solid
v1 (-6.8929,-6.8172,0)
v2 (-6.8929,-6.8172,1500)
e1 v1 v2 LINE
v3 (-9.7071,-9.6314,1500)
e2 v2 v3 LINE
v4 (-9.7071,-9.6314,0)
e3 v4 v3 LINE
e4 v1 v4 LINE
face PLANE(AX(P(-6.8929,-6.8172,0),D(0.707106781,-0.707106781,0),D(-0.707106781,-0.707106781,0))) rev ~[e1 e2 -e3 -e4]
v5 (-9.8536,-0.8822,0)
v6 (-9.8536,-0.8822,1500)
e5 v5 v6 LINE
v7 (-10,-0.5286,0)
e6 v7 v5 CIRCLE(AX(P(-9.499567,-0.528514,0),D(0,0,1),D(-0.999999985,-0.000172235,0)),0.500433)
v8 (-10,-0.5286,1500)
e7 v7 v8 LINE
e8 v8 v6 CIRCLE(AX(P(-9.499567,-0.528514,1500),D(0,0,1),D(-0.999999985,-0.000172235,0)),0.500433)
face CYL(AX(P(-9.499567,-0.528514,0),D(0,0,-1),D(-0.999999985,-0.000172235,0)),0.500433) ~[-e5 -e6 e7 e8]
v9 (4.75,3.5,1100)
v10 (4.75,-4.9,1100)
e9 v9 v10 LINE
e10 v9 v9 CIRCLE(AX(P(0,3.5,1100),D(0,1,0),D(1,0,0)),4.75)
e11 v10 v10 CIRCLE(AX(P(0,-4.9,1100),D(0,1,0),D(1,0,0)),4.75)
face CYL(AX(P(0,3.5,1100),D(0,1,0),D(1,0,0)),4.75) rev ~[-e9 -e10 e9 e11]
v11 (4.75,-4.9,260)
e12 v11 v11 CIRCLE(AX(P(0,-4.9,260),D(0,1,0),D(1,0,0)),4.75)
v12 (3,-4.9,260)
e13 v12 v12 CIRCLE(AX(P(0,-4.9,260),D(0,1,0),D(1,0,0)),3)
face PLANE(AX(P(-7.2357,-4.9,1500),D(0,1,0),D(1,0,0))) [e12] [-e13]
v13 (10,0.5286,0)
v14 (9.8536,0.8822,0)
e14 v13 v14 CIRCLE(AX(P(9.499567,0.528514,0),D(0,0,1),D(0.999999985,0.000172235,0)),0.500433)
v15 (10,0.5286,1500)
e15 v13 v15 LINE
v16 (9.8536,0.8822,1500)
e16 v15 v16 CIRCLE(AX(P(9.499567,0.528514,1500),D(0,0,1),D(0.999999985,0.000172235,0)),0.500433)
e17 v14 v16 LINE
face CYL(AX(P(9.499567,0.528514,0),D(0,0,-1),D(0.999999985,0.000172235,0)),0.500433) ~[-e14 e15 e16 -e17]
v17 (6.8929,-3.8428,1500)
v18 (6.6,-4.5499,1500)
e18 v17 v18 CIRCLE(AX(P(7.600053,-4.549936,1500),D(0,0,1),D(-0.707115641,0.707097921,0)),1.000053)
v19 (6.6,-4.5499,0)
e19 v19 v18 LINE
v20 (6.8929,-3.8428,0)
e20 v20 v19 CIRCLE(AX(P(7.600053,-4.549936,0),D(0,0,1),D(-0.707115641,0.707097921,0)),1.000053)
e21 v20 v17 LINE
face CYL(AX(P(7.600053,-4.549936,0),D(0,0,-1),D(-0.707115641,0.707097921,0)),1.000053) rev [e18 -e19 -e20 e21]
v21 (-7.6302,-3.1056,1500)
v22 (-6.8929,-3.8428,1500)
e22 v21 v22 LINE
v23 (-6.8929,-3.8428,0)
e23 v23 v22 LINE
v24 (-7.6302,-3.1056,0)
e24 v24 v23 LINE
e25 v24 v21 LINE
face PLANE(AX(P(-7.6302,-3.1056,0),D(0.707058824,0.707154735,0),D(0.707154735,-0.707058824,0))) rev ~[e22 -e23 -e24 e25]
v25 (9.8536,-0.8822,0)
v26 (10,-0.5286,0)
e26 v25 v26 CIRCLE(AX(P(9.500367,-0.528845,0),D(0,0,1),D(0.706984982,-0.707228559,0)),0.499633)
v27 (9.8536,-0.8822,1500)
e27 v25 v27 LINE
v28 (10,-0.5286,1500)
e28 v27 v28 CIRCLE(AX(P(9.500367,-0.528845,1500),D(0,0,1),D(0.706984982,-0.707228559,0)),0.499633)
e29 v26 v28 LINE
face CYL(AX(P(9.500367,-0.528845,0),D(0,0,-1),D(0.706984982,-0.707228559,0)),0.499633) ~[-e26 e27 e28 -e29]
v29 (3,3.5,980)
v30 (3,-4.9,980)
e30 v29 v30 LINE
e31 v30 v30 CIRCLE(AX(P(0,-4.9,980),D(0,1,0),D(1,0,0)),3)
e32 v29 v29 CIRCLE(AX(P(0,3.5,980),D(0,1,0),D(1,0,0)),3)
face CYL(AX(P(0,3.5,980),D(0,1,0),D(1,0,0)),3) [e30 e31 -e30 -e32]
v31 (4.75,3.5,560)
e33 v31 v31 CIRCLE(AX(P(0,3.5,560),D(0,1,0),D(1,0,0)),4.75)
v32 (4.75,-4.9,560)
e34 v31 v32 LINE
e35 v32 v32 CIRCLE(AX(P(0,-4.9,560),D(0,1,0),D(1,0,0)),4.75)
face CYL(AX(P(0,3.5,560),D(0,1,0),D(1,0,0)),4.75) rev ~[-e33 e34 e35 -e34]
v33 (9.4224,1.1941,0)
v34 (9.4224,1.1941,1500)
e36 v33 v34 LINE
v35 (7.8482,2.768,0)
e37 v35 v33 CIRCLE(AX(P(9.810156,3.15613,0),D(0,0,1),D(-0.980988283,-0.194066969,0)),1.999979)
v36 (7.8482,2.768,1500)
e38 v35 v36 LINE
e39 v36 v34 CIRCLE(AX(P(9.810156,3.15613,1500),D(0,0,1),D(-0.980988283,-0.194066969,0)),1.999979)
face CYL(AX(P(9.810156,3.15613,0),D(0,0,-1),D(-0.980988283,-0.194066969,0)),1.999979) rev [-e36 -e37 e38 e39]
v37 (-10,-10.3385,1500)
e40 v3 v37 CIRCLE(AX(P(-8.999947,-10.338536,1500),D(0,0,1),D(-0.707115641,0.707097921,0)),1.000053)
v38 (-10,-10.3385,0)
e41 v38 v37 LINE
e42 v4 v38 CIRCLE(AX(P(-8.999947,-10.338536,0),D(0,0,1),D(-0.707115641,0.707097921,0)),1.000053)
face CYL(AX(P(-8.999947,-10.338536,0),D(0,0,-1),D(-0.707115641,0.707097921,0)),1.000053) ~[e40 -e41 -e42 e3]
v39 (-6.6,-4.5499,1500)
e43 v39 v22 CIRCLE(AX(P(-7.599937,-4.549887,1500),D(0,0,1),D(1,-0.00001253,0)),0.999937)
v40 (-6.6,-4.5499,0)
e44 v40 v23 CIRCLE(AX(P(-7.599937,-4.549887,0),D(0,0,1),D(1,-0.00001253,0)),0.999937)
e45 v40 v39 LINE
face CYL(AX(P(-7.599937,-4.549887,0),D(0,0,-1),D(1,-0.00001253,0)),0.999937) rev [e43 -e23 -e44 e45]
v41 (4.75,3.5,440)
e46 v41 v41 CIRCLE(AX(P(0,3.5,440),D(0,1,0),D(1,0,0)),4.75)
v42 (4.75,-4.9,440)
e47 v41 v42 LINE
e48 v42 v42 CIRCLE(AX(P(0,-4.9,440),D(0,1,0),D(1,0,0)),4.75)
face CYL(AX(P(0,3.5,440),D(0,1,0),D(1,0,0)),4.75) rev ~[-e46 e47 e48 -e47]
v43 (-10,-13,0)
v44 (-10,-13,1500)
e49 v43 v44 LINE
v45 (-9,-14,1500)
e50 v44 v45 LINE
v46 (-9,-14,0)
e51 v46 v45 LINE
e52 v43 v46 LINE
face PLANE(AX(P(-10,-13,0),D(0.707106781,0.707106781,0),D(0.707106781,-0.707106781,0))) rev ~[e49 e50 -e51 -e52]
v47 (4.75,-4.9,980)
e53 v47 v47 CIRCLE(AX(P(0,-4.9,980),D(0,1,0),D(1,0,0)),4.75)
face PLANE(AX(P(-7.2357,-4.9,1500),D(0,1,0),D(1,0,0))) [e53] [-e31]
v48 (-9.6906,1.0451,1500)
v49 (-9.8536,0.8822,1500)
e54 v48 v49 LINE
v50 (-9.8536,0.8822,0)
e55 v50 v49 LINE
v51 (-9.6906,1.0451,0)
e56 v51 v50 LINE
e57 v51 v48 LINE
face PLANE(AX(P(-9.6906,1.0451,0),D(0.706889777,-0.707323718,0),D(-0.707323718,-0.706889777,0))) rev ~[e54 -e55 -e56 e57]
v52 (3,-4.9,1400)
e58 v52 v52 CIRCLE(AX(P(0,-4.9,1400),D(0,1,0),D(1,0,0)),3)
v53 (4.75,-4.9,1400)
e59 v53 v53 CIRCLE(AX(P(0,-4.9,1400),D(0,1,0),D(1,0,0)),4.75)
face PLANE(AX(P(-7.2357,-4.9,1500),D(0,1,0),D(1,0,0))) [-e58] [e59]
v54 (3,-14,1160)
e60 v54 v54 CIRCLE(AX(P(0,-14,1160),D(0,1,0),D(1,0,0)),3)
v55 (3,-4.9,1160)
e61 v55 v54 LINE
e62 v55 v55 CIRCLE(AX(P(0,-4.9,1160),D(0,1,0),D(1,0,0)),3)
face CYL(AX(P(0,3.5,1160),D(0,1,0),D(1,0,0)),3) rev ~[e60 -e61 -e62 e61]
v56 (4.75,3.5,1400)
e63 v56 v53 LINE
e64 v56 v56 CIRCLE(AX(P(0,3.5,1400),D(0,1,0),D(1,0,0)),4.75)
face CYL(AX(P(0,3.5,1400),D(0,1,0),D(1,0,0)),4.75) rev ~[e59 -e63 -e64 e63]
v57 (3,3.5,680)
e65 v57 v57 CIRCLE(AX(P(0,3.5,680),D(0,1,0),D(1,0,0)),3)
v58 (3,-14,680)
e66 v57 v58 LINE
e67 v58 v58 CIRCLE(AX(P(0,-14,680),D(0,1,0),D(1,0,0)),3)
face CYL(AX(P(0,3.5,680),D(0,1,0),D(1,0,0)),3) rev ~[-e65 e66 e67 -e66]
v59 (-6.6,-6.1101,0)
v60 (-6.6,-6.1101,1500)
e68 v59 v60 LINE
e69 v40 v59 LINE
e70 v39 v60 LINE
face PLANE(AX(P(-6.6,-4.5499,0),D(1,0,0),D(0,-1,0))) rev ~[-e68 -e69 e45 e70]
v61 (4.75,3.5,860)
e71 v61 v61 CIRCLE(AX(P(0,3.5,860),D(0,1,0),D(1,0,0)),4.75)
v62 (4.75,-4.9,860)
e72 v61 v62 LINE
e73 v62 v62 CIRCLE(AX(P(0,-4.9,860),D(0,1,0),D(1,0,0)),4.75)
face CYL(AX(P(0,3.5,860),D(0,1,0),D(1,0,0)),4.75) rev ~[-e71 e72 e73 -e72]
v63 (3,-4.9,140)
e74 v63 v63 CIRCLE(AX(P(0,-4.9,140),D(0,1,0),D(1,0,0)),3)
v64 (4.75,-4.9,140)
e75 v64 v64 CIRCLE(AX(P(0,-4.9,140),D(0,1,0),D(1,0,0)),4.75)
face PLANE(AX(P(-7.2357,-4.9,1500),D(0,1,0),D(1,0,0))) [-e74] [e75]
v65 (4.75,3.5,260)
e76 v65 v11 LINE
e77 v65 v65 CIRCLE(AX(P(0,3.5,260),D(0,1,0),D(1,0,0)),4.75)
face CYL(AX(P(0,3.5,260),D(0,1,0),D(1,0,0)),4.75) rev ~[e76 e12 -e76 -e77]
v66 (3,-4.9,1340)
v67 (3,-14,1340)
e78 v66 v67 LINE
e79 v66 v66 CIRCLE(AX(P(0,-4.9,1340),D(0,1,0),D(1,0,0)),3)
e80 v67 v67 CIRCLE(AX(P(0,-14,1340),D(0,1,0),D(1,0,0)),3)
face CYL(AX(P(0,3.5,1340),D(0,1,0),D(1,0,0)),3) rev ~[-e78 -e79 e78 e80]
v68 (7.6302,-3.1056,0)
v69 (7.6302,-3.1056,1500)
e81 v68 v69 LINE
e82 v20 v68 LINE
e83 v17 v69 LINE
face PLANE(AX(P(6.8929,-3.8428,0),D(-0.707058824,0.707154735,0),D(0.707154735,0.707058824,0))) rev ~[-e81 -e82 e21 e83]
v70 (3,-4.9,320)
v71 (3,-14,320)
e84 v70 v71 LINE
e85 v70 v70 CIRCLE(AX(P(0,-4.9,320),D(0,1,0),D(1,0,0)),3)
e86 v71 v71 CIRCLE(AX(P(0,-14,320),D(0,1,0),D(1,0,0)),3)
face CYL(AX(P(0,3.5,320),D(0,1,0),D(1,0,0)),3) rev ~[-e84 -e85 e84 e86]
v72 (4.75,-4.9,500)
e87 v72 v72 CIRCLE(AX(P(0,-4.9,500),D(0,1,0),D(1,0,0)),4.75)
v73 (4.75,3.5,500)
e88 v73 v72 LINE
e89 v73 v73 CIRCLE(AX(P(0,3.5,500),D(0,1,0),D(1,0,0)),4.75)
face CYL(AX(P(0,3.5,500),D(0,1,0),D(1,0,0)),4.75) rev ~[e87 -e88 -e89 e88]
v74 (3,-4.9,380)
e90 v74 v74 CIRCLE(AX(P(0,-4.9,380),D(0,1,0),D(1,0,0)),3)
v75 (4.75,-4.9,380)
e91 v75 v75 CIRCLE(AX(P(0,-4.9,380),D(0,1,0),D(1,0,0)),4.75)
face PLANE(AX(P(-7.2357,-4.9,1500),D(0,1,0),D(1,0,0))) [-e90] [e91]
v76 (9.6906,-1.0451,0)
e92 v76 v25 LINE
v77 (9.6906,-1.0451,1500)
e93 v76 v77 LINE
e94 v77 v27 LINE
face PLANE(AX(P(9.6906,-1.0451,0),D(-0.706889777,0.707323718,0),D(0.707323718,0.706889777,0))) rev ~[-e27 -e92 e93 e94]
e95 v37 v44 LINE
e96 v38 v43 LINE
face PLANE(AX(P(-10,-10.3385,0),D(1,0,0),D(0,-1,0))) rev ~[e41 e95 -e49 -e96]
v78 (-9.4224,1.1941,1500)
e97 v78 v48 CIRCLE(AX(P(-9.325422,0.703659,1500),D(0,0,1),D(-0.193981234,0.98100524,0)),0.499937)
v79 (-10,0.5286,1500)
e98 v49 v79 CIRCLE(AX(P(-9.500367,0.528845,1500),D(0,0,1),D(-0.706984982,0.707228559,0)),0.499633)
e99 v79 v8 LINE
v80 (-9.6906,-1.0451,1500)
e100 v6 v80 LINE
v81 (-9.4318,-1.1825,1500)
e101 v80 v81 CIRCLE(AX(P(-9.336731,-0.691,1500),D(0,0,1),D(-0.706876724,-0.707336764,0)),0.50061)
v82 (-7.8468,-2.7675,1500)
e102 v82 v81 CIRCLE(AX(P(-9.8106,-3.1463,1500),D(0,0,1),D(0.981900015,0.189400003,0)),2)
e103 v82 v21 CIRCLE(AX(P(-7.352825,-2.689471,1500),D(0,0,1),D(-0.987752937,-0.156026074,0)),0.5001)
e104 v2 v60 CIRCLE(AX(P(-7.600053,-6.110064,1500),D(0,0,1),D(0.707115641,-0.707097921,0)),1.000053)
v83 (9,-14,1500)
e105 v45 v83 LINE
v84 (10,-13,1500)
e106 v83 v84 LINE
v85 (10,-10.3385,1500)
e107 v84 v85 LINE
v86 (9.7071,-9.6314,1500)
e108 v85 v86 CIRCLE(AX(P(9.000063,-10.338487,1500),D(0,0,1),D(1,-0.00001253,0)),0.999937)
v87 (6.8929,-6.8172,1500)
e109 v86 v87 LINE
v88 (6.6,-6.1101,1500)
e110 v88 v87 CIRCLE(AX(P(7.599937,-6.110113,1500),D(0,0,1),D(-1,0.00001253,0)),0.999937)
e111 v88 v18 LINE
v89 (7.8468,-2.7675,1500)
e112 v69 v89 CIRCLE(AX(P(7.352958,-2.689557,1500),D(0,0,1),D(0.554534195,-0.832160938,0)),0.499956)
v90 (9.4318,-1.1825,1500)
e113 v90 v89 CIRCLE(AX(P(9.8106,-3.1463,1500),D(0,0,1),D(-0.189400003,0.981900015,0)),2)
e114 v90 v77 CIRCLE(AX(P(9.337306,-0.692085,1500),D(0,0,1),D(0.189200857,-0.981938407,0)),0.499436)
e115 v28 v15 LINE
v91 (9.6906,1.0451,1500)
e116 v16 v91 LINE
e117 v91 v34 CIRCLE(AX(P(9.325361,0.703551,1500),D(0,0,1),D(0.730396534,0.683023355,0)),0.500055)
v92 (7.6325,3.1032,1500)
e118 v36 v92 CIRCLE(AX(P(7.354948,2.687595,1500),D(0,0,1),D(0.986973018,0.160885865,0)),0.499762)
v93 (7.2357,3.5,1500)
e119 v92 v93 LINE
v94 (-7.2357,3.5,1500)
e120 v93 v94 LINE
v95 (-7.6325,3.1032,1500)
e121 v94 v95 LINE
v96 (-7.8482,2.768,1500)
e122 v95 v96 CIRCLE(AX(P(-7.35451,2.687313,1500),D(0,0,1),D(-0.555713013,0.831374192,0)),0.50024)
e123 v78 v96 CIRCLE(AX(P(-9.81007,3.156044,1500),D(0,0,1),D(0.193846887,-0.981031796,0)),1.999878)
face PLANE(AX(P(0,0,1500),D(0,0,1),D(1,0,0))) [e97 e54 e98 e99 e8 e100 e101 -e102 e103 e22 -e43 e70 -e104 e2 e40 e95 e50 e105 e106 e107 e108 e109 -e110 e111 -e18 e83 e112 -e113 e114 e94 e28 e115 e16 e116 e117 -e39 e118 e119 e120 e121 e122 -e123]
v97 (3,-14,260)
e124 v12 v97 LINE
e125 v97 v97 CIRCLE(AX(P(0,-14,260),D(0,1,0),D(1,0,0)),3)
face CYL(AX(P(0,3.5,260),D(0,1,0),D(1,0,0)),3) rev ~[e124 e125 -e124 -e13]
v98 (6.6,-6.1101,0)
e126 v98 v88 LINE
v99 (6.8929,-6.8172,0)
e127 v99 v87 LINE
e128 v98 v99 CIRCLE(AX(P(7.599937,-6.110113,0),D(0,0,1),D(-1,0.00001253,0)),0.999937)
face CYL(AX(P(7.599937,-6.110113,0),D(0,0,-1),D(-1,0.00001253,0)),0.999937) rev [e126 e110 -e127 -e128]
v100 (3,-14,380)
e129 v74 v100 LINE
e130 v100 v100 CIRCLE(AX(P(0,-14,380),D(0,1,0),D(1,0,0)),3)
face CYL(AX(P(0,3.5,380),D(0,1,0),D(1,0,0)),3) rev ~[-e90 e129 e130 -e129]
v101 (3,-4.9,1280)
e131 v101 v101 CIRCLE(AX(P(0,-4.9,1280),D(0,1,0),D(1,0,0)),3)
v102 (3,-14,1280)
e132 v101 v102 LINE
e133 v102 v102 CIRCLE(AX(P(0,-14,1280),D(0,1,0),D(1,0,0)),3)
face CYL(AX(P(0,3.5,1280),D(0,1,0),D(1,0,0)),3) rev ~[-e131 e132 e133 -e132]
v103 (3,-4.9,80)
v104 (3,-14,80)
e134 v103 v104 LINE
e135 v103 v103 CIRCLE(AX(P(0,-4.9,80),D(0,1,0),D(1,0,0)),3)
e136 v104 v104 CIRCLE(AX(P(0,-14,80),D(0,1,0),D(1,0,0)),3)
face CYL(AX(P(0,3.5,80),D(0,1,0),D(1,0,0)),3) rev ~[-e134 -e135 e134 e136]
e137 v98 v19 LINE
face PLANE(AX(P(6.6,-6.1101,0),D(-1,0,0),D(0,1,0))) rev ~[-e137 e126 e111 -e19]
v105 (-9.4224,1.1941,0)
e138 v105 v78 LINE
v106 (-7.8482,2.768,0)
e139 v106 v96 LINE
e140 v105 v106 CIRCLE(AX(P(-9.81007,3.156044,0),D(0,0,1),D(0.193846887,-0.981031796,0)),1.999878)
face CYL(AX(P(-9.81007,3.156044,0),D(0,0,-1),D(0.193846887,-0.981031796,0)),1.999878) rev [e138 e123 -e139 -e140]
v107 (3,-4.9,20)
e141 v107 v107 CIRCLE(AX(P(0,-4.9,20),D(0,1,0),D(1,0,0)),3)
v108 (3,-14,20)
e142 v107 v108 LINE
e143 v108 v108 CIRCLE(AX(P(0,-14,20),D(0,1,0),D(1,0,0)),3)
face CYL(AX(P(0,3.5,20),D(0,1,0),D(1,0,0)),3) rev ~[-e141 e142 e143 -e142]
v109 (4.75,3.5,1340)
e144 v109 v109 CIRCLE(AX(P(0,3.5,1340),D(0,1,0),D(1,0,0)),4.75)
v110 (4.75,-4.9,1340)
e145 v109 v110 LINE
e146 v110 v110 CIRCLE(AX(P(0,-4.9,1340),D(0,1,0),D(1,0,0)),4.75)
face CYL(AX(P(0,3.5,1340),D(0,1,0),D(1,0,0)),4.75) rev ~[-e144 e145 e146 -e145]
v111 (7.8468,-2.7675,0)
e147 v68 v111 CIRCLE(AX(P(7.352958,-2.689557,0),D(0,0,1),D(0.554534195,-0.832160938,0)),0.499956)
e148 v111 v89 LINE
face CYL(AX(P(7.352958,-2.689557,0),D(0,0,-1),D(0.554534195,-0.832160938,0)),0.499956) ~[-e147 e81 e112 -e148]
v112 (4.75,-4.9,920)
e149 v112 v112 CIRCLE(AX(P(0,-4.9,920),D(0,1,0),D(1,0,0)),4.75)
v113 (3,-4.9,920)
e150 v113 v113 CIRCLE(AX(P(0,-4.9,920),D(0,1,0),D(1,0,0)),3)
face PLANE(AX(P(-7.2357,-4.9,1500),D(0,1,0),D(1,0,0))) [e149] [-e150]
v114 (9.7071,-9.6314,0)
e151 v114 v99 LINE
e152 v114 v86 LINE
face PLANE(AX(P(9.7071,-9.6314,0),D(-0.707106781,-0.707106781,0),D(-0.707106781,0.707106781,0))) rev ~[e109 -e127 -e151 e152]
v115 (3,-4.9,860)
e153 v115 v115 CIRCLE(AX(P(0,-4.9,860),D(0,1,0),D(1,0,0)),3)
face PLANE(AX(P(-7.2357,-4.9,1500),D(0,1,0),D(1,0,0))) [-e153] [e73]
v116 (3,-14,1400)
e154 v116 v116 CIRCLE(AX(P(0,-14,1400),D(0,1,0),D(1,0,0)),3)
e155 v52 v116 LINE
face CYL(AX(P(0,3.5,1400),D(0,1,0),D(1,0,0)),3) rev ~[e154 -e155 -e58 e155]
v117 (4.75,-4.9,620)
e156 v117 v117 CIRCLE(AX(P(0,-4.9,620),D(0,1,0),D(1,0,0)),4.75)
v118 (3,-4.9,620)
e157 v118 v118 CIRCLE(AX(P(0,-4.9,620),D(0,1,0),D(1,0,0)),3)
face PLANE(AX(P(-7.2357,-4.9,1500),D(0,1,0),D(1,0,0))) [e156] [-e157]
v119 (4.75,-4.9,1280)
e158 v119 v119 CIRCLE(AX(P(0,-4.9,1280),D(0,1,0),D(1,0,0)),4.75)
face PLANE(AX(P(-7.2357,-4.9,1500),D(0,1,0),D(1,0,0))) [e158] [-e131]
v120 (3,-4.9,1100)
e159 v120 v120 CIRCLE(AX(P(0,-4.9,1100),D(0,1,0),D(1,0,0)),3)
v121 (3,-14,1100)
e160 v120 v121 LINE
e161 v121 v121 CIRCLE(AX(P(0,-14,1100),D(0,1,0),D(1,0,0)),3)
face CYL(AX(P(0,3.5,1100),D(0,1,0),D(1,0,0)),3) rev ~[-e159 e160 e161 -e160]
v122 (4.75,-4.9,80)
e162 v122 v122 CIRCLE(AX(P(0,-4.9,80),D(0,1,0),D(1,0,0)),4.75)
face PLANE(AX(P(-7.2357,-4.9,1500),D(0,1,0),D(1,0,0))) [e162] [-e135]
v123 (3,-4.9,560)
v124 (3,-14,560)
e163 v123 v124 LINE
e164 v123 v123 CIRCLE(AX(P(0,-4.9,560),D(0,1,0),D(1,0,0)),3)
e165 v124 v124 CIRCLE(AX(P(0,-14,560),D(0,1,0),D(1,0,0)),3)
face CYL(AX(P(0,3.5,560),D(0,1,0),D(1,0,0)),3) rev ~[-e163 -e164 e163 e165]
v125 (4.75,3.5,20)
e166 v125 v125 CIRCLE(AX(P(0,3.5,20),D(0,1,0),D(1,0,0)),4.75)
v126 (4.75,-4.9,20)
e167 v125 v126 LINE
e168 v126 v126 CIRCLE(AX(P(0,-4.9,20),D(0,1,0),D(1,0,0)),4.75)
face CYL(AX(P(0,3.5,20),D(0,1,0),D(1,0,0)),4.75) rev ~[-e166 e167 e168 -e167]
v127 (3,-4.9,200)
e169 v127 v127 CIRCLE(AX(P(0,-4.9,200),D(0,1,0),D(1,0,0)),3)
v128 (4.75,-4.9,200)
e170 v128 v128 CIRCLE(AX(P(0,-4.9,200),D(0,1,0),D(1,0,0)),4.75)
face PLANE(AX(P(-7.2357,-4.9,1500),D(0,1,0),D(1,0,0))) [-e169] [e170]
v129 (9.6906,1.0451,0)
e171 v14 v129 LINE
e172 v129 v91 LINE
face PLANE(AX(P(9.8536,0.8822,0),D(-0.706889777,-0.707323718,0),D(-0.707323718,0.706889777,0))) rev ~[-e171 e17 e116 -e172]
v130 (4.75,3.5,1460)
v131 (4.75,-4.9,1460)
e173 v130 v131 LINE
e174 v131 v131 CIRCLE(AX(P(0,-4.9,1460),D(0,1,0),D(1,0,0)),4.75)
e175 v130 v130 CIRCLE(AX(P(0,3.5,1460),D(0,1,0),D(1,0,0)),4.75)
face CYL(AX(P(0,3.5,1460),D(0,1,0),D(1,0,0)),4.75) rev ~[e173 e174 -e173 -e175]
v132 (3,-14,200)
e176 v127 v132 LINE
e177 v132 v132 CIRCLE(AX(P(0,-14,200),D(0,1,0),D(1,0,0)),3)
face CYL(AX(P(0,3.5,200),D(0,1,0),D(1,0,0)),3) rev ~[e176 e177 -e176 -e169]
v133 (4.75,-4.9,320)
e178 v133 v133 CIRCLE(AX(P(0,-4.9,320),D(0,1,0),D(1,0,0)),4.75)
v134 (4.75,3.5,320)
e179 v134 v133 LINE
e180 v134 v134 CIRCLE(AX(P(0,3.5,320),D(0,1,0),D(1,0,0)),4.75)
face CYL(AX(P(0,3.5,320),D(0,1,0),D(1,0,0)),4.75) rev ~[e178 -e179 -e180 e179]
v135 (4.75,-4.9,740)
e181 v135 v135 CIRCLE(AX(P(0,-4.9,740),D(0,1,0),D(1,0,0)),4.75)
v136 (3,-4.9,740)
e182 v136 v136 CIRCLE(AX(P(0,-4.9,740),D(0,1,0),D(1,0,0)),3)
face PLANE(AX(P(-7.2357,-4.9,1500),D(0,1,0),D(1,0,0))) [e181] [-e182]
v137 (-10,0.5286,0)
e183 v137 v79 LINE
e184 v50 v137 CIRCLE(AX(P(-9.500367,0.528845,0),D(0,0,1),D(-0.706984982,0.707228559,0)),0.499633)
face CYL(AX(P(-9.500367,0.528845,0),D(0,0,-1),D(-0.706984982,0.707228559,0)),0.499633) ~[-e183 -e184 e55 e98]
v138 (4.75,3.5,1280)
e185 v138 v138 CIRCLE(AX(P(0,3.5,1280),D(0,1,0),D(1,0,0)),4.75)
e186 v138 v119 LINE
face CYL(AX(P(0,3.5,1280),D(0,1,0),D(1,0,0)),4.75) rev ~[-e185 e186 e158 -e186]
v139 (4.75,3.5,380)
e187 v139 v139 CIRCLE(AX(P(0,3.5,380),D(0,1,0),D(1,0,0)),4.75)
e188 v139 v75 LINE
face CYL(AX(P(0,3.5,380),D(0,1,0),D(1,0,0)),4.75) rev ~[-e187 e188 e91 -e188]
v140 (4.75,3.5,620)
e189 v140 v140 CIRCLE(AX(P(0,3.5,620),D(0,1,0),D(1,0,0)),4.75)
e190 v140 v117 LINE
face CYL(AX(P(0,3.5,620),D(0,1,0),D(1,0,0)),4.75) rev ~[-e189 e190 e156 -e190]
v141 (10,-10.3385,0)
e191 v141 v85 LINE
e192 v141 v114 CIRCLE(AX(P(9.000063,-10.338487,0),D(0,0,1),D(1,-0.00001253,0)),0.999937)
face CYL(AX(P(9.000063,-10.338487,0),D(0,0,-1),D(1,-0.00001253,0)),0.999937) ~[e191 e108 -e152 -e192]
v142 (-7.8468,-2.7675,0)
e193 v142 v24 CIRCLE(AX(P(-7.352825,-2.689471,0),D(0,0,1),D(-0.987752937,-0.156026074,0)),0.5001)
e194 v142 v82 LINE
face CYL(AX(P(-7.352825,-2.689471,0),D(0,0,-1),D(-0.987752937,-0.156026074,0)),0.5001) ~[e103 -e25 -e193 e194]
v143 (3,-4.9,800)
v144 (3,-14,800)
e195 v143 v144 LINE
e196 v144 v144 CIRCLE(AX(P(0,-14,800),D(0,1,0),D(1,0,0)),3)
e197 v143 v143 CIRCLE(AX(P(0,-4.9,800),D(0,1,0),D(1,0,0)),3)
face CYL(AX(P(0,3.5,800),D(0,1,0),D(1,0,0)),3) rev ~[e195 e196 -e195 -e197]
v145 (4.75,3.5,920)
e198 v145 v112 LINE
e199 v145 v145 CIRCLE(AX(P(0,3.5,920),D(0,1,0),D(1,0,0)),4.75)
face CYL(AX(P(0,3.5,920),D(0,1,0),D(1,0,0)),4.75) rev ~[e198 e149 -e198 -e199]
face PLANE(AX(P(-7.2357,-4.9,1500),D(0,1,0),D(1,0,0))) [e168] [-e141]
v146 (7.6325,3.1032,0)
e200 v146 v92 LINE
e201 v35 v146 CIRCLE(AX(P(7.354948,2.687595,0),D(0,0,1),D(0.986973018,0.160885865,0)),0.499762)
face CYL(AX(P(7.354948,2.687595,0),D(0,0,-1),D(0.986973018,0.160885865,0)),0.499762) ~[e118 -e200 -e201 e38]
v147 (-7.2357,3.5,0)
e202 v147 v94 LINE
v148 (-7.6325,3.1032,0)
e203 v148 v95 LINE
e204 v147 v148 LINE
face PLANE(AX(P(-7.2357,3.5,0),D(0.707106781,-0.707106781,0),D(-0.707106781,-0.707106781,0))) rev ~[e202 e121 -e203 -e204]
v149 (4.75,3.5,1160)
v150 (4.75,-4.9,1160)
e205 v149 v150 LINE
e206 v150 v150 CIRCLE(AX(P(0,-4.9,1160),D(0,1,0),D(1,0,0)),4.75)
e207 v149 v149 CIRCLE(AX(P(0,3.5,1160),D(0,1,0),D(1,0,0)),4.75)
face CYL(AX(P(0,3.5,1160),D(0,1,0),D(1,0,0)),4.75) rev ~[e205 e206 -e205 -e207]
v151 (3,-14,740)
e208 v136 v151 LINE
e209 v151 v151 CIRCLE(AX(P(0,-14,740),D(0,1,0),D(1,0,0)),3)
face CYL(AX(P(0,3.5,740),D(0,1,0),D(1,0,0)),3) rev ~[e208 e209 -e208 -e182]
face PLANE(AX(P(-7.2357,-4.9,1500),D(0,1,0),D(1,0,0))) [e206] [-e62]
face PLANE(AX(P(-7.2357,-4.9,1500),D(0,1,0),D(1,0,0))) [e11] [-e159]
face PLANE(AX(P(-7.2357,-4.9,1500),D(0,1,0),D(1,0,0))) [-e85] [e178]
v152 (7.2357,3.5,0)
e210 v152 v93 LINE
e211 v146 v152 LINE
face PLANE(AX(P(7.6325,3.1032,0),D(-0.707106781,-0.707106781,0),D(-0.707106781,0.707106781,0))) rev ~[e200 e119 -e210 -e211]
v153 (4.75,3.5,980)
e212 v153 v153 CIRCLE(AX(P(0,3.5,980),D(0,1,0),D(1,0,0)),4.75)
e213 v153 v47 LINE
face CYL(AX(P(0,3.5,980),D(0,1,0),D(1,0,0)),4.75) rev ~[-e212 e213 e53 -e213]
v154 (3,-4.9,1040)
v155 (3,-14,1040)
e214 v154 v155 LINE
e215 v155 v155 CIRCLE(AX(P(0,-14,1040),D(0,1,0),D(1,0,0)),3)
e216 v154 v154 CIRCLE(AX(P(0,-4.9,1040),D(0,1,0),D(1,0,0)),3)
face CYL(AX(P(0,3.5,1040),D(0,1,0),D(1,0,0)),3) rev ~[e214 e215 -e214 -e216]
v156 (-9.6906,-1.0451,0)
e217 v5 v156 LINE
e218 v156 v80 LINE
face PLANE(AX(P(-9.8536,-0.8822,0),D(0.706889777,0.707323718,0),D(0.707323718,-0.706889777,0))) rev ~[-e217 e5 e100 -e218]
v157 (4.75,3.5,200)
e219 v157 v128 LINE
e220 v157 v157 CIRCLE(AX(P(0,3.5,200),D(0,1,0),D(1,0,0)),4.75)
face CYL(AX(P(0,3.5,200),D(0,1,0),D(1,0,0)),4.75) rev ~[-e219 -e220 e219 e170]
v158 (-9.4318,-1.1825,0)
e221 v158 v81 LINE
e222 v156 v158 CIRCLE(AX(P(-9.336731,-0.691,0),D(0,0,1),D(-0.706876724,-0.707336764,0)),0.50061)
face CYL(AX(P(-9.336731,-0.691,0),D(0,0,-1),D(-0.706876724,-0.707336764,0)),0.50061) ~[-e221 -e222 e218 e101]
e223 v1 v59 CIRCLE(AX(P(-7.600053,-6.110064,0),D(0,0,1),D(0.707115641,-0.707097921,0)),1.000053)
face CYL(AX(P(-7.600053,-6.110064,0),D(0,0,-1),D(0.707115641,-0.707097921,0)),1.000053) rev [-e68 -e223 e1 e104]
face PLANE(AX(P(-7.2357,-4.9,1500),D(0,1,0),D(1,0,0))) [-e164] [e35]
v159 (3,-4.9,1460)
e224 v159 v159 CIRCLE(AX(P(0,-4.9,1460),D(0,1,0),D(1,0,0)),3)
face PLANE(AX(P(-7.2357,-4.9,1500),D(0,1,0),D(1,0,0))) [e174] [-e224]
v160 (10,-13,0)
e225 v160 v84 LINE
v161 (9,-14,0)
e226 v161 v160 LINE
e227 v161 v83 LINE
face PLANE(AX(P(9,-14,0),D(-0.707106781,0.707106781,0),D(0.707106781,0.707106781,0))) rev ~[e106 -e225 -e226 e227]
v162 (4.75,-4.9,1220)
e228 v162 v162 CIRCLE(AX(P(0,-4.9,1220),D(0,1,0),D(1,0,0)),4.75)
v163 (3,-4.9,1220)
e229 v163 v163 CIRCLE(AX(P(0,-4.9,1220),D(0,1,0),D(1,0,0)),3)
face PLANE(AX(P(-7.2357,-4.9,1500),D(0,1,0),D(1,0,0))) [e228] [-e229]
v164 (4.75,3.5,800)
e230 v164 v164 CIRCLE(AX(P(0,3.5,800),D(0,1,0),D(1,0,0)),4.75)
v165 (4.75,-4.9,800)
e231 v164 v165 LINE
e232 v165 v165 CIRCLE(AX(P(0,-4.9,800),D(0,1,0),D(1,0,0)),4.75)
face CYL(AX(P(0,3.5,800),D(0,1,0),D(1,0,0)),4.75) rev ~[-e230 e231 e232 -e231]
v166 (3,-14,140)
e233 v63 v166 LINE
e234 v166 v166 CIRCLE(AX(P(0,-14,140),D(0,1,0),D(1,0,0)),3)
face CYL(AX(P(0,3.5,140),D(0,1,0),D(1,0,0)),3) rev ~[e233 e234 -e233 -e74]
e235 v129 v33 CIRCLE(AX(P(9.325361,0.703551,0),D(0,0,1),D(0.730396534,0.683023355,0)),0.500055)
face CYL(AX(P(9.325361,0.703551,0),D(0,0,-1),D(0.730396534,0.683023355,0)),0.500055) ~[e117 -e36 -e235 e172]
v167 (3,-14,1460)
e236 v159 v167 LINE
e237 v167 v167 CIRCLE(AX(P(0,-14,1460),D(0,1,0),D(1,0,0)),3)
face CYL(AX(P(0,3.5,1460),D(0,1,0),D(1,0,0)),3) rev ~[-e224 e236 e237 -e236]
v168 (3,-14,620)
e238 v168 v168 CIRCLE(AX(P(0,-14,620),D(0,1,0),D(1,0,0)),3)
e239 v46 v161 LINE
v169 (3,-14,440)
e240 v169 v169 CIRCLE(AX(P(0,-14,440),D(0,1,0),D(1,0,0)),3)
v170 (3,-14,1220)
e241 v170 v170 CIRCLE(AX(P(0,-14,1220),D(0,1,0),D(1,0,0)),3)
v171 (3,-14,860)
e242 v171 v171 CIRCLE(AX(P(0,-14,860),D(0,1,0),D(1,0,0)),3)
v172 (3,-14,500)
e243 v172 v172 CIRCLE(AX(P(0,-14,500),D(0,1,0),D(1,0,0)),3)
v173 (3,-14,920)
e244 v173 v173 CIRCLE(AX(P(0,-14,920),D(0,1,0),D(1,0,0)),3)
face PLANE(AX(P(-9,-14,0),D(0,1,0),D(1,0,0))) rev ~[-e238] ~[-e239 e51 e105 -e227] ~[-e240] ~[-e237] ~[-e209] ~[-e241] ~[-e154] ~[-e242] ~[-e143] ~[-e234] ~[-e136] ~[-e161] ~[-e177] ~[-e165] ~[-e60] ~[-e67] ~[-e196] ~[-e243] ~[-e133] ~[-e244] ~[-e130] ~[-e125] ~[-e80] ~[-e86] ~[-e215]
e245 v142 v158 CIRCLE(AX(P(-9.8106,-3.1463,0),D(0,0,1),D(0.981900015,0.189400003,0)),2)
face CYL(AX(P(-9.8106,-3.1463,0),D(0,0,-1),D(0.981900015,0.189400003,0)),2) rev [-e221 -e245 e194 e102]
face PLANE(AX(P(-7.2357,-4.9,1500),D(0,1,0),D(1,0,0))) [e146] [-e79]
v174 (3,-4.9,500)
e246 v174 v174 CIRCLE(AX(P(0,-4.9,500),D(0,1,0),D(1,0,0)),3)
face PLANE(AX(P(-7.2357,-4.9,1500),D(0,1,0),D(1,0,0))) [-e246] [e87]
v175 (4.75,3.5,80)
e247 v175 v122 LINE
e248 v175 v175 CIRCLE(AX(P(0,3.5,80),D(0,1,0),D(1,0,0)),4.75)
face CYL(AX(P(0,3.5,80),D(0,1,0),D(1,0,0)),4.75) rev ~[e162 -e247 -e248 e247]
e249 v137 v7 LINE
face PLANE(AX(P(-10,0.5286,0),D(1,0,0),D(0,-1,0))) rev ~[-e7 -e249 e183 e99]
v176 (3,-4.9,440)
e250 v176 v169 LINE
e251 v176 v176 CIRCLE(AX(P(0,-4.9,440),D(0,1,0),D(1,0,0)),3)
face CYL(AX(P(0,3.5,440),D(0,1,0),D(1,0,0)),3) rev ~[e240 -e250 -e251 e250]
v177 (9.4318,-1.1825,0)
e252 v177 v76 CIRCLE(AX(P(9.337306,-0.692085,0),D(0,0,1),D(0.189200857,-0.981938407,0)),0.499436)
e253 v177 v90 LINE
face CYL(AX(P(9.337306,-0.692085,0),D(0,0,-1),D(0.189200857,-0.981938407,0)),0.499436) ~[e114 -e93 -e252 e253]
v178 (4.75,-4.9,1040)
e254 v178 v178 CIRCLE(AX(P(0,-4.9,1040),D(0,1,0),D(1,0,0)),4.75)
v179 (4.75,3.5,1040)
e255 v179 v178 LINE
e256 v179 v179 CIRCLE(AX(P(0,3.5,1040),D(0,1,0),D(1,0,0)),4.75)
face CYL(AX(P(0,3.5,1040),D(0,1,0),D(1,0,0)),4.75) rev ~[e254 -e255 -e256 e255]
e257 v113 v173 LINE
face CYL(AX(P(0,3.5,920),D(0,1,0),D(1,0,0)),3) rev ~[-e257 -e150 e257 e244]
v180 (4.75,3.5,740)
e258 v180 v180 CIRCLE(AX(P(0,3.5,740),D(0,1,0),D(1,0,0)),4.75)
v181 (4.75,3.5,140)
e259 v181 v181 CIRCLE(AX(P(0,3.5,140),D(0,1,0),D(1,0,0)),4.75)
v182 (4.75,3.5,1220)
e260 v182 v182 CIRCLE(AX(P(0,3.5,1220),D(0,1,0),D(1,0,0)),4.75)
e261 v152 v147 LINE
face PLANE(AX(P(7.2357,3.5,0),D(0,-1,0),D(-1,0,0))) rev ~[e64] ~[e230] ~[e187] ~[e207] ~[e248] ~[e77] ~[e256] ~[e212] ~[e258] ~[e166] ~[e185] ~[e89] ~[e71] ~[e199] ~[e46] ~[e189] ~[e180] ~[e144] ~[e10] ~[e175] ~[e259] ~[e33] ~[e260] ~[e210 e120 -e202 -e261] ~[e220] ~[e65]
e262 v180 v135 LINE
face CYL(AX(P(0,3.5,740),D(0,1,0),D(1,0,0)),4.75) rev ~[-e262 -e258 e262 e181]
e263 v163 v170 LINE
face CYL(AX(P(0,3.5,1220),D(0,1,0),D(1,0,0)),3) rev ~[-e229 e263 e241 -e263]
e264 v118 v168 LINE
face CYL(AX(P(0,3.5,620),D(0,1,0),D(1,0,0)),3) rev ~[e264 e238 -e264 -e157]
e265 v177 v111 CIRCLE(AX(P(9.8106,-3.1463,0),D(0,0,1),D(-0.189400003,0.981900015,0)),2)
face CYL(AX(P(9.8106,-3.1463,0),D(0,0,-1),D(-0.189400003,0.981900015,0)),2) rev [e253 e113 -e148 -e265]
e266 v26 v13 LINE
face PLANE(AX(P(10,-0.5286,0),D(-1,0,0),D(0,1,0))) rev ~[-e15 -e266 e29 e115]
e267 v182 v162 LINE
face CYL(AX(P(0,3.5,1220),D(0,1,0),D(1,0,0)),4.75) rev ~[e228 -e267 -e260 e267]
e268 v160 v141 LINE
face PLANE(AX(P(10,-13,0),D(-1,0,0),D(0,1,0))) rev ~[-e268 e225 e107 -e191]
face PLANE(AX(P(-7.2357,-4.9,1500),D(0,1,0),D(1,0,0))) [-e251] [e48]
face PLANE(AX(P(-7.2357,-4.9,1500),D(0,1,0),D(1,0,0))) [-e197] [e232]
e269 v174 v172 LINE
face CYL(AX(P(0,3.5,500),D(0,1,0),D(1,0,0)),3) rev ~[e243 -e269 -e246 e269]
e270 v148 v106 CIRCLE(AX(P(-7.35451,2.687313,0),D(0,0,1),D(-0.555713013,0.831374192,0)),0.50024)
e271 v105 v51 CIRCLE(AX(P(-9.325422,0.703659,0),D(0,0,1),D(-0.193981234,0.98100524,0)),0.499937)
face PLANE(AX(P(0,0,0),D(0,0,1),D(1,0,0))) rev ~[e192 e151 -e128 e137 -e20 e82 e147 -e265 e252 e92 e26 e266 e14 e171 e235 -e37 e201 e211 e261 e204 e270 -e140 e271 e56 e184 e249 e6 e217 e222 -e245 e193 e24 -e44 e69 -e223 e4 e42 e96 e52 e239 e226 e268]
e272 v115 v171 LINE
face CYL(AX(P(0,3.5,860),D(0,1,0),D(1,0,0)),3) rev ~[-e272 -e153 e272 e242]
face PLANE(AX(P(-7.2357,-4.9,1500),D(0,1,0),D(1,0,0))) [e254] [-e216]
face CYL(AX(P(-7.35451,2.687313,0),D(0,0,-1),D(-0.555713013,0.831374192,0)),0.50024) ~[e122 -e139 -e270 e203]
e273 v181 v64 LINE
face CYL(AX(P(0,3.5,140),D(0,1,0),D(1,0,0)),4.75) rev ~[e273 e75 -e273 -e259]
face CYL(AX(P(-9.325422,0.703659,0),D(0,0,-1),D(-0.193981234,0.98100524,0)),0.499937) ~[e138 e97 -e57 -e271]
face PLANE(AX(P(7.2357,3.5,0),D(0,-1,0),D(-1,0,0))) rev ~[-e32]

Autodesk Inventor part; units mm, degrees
ref_plane "YZ Plane" through (0, 0, 0) normal (1, 0, 0) x (0, 1, 0)
ref_plane "XZ Plane" through (0, 0, 0) normal (0, 1, 0) x (-1, 0, 0)
ref_plane "XY Plane" through (0, 0, 0) normal (0, 0, 1) x (1, 0, 0)
sketch "Sketch1" plane through (0, 0, 0) normal (0, 0, 1) x (1, 0, 0)
  arc A0 (-9.7071, -9.6314) -> (-10, -10.3385) centre (-9, -10.3385) ccw
  line L0 (-10, -10.3385) -> (-10, -13)
  line L1 (-10, -13) -> (-9, -14)
  line L2 (-9, -14) -> (9, -14)
  line L3 (9, -14) -> (10, -13)
  line L4 (10, -13) -> (10, -10.3385)
  arc A1 (10, -10.3385) -> (9.7071, -9.6314) centre (9, -10.3385) ccw
  line L5 (9.7071, -9.6314) -> (6.8929, -6.8172)
  arc A2 (6.6, -6.1101) -> (6.8929, -6.8172) centre (7.6, -6.1101) ccw
  line L6 (6.6, -6.1101) -> (6.6, -4.5499)
  arc A3 (6.8929, -3.8428) -> (6.6, -4.5499) centre (7.6, -4.5499) ccw
  line L7 (6.8929, -3.8428) -> (7.6302, -3.1056)
  arc A4 (7.6302, -3.1056) -> (7.8468, -2.7675) centre (7.3529, -2.6895) ccw
  arc A5 (9.4318, -1.1825) -> (7.8468, -2.7675) centre (9.8106, -3.1463) ccw
  arc A6 (9.4318, -1.1825) -> (9.6906, -1.0451) centre (9.3371, -0.6915) ccw
  line L8 (9.6906, -1.0451) -> (9.8536, -0.8822)
  arc A7 (9.8536, -0.8822) -> (10, -0.5286) centre (9.5, -0.5286) ccw
  line L9 (10, -0.5286) -> (10, 0.5286)
  arc A8 (10, 0.5286) -> (9.8536, 0.8822) centre (9.5, 0.5286) ccw
  line L10 (9.8536, 0.8822) -> (9.6906, 1.0451)
  arc A9 (9.6906, 1.0451) -> (9.4224, 1.1941) centre (9.3254, 0.7036) ccw
  arc A10 (7.8482, 2.768) -> (9.4224, 1.1941) centre (9.8101, 3.1561) ccw
  arc A11 (7.8482, 2.768) -> (7.6325, 3.1032) centre (7.3547, 2.6875) ccw
  line L11 (7.6325, 3.1032) -> (7.2357, 3.5)
  line L12 (7.2357, 3.5) -> (-7.2357, 3.5)
  line L13 (-7.2357, 3.5) -> (-7.6325, 3.1032)
  arc A12 (-7.6325, 3.1032) -> (-7.8482, 2.768) centre (-7.3547, 2.6875) ccw
  arc A13 (-9.4224, 1.1941) -> (-7.8482, 2.768) centre (-9.8101, 3.1561) ccw
  arc A14 (-9.4224, 1.1941) -> (-9.6906, 1.0451) centre (-9.3254, 0.7036) ccw
  line L14 (-9.6906, 1.0451) -> (-9.8536, 0.8822)
  arc A15 (-9.8536, 0.8822) -> (-10, 0.5286) centre (-9.5, 0.5286) ccw
  line L15 (-10, 0.5286) -> (-10, -0.5286)
  arc A16 (-10, -0.5286) -> (-9.8536, -0.8822) centre (-9.5, -0.5286) ccw
  line L16 (-9.8536, -0.8822) -> (-9.6906, -1.0451)
  arc A17 (-9.6906, -1.0451) -> (-9.4318, -1.1825) centre (-9.3371, -0.6915) ccw
  arc A18 (-7.8468, -2.7675) -> (-9.4318, -1.1825) centre (-9.8106, -3.1463) ccw
  arc A19 (-7.8468, -2.7675) -> (-7.6302, -3.1056) centre (-7.3529, -2.6895) ccw
  line L17 (-7.6302, -3.1056) -> (-6.8929, -3.8428)
  arc A20 (-6.6, -4.5499) -> (-6.8929, -3.8428) centre (-7.6, -4.5499) ccw
  line L18 (-6.6, -4.5499) -> (-6.6, -6.1101)
  arc A21 (-6.8929, -6.8172) -> (-6.6, -6.1101) centre (-7.6, -6.1101) ccw
  line L19 (-6.8929, -6.8172) -> (-9.7071, -9.6314)
  point P0 (0, 0)
  point P1 (0, 0)
extrude "Extrusion1" add sketch "Sketch1" along normal blind 1500
sketch "Sketch2" plane through (-7.2357, 3.5, 1500) normal (0, 1, 0) x (1, 0, 0)
  line L0 (14.4714, 1500) -> (0, 1500) projected
  line L1 (0, 1500) -> (0, 0) projected
  line L2 (14.4714, 0) -> (0, 0) projected
  line L3 (14.4714, 1500) -> (14.4714, 0) projected
  circle A0 centre (7.2357, 1480) radius 4.75
  circle A1 centre (7.2357, 1480) radius 3
  circle A2 centre (7.2357, 1420) radius 4.75
  circle A3 centre (7.2357, 1420) radius 3
  circle A4 centre (7.2357, 1360) radius 4.75
  circle A5 centre (7.2357, 1360) radius 3
  circle A6 centre (7.2357, 1300) radius 4.75
  circle A7 centre (7.2357, 1300) radius 3
  circle A8 centre (7.2357, 1240) radius 4.75
  circle A9 centre (7.2357, 1240) radius 3
  circle A10 centre (7.2357, 1180) radius 4.75
  circle A11 centre (7.2357, 1180) radius 3
  circle A12 centre (7.2357, 1120) radius 4.75
  circle A13 centre (7.2357, 1120) radius 3
  circle A14 centre (7.2357, 1060) radius 4.75
  circle A15 centre (7.2357, 1060) radius 3
  circle A16 centre (7.2357, 1000) radius 4.75
  circle A17 centre (7.2357, 1000) radius 3
  circle A18 centre (7.2357, 940) radius 4.75
  circle A19 centre (7.2357, 940) radius 3
  circle A20 centre (7.2357, 880) radius 4.75
  circle A21 centre (7.2357, 880) radius 3
  circle A22 centre (7.2357, 820) radius 4.75
  circle A23 centre (7.2357, 820) radius 3
  circle A24 centre (7.2357, 760) radius 4.75
  circle A25 centre (7.2357, 760) radius 3
  circle A26 centre (7.2357, 700) radius 4.75
  circle A27 centre (7.2357, 700) radius 3
  circle A28 centre (7.2357, 640) radius 4.75
  circle A29 centre (7.2357, 640) radius 3
  circle A30 centre (7.2357, 580) radius 4.75
  circle A31 centre (7.2357, 580) radius 3
  circle A32 centre (7.2357, 520) radius 4.75
  circle A33 centre (7.2357, 520) radius 3
  circle A34 centre (7.2357, 460) radius 4.75
  circle A35 centre (7.2357, 460) radius 3
  circle A36 centre (7.2357, 400) radius 4.75
  circle A37 centre (7.2357, 400) radius 3
  circle A38 centre (7.2357, 340) radius 4.75
  circle A39 centre (7.2357, 340) radius 3
  circle A40 centre (7.2357, 280) radius 4.75
  circle A41 centre (7.2357, 280) radius 3
  circle A42 centre (7.2357, 220) radius 4.75
  circle A43 centre (7.2357, 220) radius 3
  circle A44 centre (7.2357, 160) radius 4.75
  circle A45 centre (7.2357, 160) radius 3
  circle A46 centre (7.2357, 100) radius 4.75
  circle A47 centre (7.2357, 100) radius 3
  circle A48 centre (7.2357, 40) radius 4.75
  circle A49 centre (7.2357, 40) radius 3
  point P0 (7.2357, 1500)
  dimension "d3" = 9.5
  dimension "d4" = 6
  dimension "d6" = 9.5
  dimension "d7" = 6
  dimension "d9" = 9.5
  dimension "d10" = 6
  dimension "d12" = 9.5
  dimension "d13" = 6
  dimension "d15" = 9.5
  dimension "d16" = 6
  dimension "d18" = 9.5
  dimension "d19" = 6
  dimension "d21" = 9.5
  dimension "d22" = 6
  dimension "d24" = 9.5
  dimension "d25" = 6
  dimension "d27" = 9.5
  dimension "d28" = 6
  dimension "d30" = 9.5
  dimension "d31" = 6
  dimension "d33" = 9.5
  dimension "d34" = 6
  dimension "d36" = 9.5
  dimension "d37" = 6
  dimension "d39" = 9.5
  dimension "d40" = 6
  dimension "d42" = 9.5
  dimension "d43" = 6
  dimension "d45" = 9.5
  dimension "d46" = 6
  dimension "d48" = 9.5
  dimension "d49" = 6
  dimension "d51" = 9.5
  dimension "d52" = 6
  dimension "d54" = 9.5
  dimension "d55" = 6
  dimension "d57" = 9.5
  dimension "d58" = 6
  dimension "d60" = 9.5
  dimension "d61" = 6
  dimension "d63" = 9.5
  dimension "d64" = 6
  dimension "d66" = 9.5
  dimension "d67" = 6
  dimension "d69" = 9.5
  dimension "d70" = 6
  dimension "d72" = 9.5
  dimension "d73" = 6
  dimension "d75" = 9.5
  dimension "d76" = 6
extrude "Extrusion2" cut sketch "Sketch2" against normal blind 30 contours A1 | A3 | A5 | A7 | A9 | A11 | A13 | A15 | A17 | A19 | A21 | A23 | A25 | A27 | A29 | A31 | A35 | A37 | A39 | A41 | A43 | A45 | A47 | A49
extrude "Extrusion3" cut sketch "Sketch2" against normal blind 8.4 contours A0 | A2 | A4 | A6 | A8 | A10 | A11 | A12 | A14 | A16 | A18 | A20 | A24 | A26 | A28 | A30 | A32 | A34 | A36 | A38 | A40 | A42 | A44 | A46 | A48
sketch "Sketch3" plane through (0, 0, 1500) normal (0, 0, 1) x (1, 0, 0)
  line L0 (9.6906, -1.0451) -> (9.8536, -0.8822) projected
  arc A0 (9.8536, -0.8822) -> (10, -0.5286) centre (9.5, -0.5286) ccw projected
  line L1 (10, -0.5286) -> (10, 0.5286) projected
  arc A1 (10, 0.5286) -> (9.8536, 0.8822) centre (9.5, 0.5286) ccw projected
  line L2 (9.8536, 0.8822) -> (9.6906, 1.0451) projected
  arc A2 (9.6906, 1.0451) -> (9.4224, 1.1941) centre (9.3254, 0.7036) ccw projected
  arc A3 (7.8482, 2.768) -> (9.4224, 1.1941) centre (9.8101, 3.1561) ccw projected
  arc A4 (7.8482, 2.768) -> (7.6325, 3.1032) centre (7.3547, 2.6875) ccw projected
  line L3 (7.6325, 3.1032) -> (7.2357, 3.5) projected
  line L4 (7.2357, 3.5) -> (-7.2357, 3.5) projected
  line L5 (-7.2357, 3.5) -> (-7.6325, 3.1032) projected
  arc A5 (-7.6325, 3.1032) -> (-7.8482, 2.768) centre (-7.3547, 2.6875) ccw projected
  arc A6 (-9.4224, 1.1941) -> (-7.8482, 2.768) centre (-9.8101, 3.1561) ccw projected
  arc A7 (-9.4224, 1.1941) -> (-9.6906, 1.0451) centre (-9.3254, 0.7036) ccw projected
  line L6 (-9.6906, 1.0451) -> (-9.8536, 0.8822) projected
  arc A8 (-9.8536, 0.8822) -> (-10, 0.5286) centre (-9.5, 0.5286) ccw projected
  line L7 (-10, 0.5286) -> (-10, -0.5286) projected
  arc A9 (-10, -0.5286) -> (-9.8536, -0.8822) centre (-9.5, -0.5286) ccw projected
  line L8 (-9.8536, -0.8822) -> (-9.6906, -1.0451) projected
  arc A10 (-9.6906, -1.0451) -> (-9.4318, -1.1825) centre (-9.3371, -0.6915) ccw projected
  arc A11 (-7.8468, -2.7675) -> (-9.4318, -1.1825) centre (-9.8106, -3.1463) ccw projected
  arc A12 (-7.8468, -2.7675) -> (-7.6302, -3.1056) centre (-7.3529, -2.6895) ccw projected
  line L9 (-7.6302, -3.1056) -> (-6.8929, -3.8428) projected
  arc A13 (-6.6, -4.5499) -> (-6.8929, -3.8428) centre (-7.6, -4.5499) ccw projected
  line L10 (-6.6, -4.5499) -> (-6.6, -6.1101) projected
  arc A14 (-6.8929, -6.8172) -> (-6.6, -6.1101) centre (-7.6, -6.1101) ccw projected
  line L11 (-6.8929, -6.8172) -> (-9.7071, -9.6314) projected
  arc A15 (-9.7071, -9.6314) -> (-10, -10.3385) centre (-9, -10.3385) ccw projected
  line L12 (-10, -10.3385) -> (-10, -13) projected
  line L13 (-10, -13) -> (-9, -14) projected
  line L14 (-9, -14) -> (9, -14) projected
  line L15 (9, -14) -> (10, -13) projected
  line L16 (10, -13) -> (10, -10.3385) projected
  arc A16 (10, -10.3385) -> (9.7071, -9.6314) centre (9, -10.3385) ccw projected
  line L17 (9.7071, -9.6314) -> (6.8929, -6.8172) projected
  arc A17 (6.6, -6.1101) -> (6.8929, -6.8172) centre (7.6, -6.1101) ccw projected
  line L18 (6.6, -6.1101) -> (6.6, -4.5499) projected
  arc A18 (6.8929, -3.8428) -> (6.6, -4.5499) centre (7.6, -4.5499) ccw projected
  line L19 (6.8929, -3.8428) -> (7.6302, -3.1056) projected
  arc A19 (7.6302, -3.1056) -> (7.8468, -2.7675) centre (7.3529, -2.6895) ccw projected
  arc A20 (9.4318, -1.1825) -> (7.8468, -2.7675) centre (9.8106, -3.1463) ccw projected
  arc A21 (9.4318, -1.1825) -> (9.6906, -1.0451) centre (9.3371, -0.6915) ccw projected
  line L20 (-4.75, 3.5) -> (4.75, 3.5) projected
  line L21 (0, 3.5) -> (0, -14)
  point P0 (0, 0)
sketch "Sketch4" plane through (0, 0, 0) normal (0, 0, -1) x (-1, 0, 0)
  line L0 (-9.6906, -1.0451) -> (-9.8536, -0.8822) projected
  arc A0 (-9.6906, -1.0451) -> (-9.4318, -1.1825) centre (-9.3371, -0.6915) ccw projected
  arc A1 (-7.8468, -2.7675) -> (-9.4318, -1.1825) centre (-9.8106, -3.1463) ccw projected
  arc A2 (-7.8468, -2.7675) -> (-7.6302, -3.1056) centre (-7.3529, -2.6895) ccw projected
  line L1 (-6.8929, -3.8428) -> (-7.6302, -3.1056) projected
  arc A3 (-6.6, -4.5499) -> (-6.8929, -3.8428) centre (-7.6, -4.5499) ccw projected
  line L2 (-6.6, -6.1101) -> (-6.6, -4.5499) projected
  arc A4 (-6.8929, -6.8172) -> (-6.6, -6.1101) centre (-7.6, -6.1101) ccw projected
  line L3 (-9.7071, -9.6314) -> (-6.8929, -6.8172) projected
  arc A5 (-9.7071, -9.6314) -> (-10, -10.3385) centre (-9, -10.3385) ccw projected
  line L4 (-10, -13) -> (-10, -10.3385) projected
  line L5 (-9, -14) -> (-10, -13) projected
  line L6 (9, -14) -> (-9, -14) projected
  line L7 (10, -13) -> (9, -14) projected
  line L8 (10, -10.3385) -> (10, -13) projected
  arc A6 (10, -10.3385) -> (9.7071, -9.6314) centre (9, -10.3385) ccw projected
  line L9 (6.8929, -6.8172) -> (9.7071, -9.6314) projected
  arc A7 (6.6, -6.1101) -> (6.8929, -6.8172) centre (7.6, -6.1101) ccw projected
  line L10 (6.6, -4.5499) -> (6.6, -6.1101) projected
  arc A8 (6.8929, -3.8428) -> (6.6, -4.5499) centre (7.6, -4.5499) ccw projected
  line L11 (7.6302, -3.1056) -> (6.8929, -3.8428) projected
  arc A9 (7.6302, -3.1056) -> (7.8468, -2.7675) centre (7.3529, -2.6895) ccw projected
  arc A10 (9.4318, -1.1825) -> (7.8468, -2.7675) centre (9.8106, -3.1463) ccw projected
  arc A11 (9.4318, -1.1825) -> (9.6906, -1.0451) centre (9.3371, -0.6915) ccw projected
  line L12 (9.8536, -0.8822) -> (9.6906, -1.0451) projected
  arc A12 (9.8536, -0.8822) -> (10, -0.5286) centre (9.5, -0.5286) ccw projected
  line L13 (10, 0.5286) -> (10, -0.5286) projected
  arc A13 (10, 0.5286) -> (9.8536, 0.8822) centre (9.5, 0.5286) ccw projected
  line L14 (9.6906, 1.0451) -> (9.8536, 0.8822) projected
  arc A14 (9.6906, 1.0451) -> (9.4224, 1.1941) centre (9.3254, 0.7036) ccw projected
  arc A15 (7.8482, 2.768) -> (9.4224, 1.1941) centre (9.8101, 3.1561) ccw projected
  arc A16 (7.8482, 2.768) -> (7.6325, 3.1032) centre (7.3547, 2.6875) ccw projected
  line L15 (7.2357, 3.5) -> (7.6325, 3.1032) projected
  line L16 (-7.2357, 3.5) -> (7.2357, 3.5) projected
  line L17 (-7.6325, 3.1032) -> (-7.2357, 3.5) projected
  arc A17 (-7.6325, 3.1032) -> (-7.8482, 2.768) centre (-7.3547, 2.6875) ccw projected
  arc A18 (-9.4224, 1.1941) -> (-7.8482, 2.768) centre (-9.8101, 3.1561) ccw projected
  arc A19 (-9.4224, 1.1941) -> (-9.6906, 1.0451) centre (-9.3254, 0.7036) ccw projected
  line L18 (-9.8536, 0.8822) -> (-9.6906, 1.0451) projected
  arc A20 (-9.8536, 0.8822) -> (-10, 0.5286) centre (-9.5, 0.5286) ccw projected
  line L19 (-10, -0.5286) -> (-10, 0.5286) projected
  arc A21 (-10, -0.5286) -> (-9.8536, -0.8822) centre (-9.5, -0.5286) ccw projected
  line L20 (0, 3.5) -> (0, -14)
  point P0 (0, 0)
properties part number "HGR20 THANH TRUOT"
